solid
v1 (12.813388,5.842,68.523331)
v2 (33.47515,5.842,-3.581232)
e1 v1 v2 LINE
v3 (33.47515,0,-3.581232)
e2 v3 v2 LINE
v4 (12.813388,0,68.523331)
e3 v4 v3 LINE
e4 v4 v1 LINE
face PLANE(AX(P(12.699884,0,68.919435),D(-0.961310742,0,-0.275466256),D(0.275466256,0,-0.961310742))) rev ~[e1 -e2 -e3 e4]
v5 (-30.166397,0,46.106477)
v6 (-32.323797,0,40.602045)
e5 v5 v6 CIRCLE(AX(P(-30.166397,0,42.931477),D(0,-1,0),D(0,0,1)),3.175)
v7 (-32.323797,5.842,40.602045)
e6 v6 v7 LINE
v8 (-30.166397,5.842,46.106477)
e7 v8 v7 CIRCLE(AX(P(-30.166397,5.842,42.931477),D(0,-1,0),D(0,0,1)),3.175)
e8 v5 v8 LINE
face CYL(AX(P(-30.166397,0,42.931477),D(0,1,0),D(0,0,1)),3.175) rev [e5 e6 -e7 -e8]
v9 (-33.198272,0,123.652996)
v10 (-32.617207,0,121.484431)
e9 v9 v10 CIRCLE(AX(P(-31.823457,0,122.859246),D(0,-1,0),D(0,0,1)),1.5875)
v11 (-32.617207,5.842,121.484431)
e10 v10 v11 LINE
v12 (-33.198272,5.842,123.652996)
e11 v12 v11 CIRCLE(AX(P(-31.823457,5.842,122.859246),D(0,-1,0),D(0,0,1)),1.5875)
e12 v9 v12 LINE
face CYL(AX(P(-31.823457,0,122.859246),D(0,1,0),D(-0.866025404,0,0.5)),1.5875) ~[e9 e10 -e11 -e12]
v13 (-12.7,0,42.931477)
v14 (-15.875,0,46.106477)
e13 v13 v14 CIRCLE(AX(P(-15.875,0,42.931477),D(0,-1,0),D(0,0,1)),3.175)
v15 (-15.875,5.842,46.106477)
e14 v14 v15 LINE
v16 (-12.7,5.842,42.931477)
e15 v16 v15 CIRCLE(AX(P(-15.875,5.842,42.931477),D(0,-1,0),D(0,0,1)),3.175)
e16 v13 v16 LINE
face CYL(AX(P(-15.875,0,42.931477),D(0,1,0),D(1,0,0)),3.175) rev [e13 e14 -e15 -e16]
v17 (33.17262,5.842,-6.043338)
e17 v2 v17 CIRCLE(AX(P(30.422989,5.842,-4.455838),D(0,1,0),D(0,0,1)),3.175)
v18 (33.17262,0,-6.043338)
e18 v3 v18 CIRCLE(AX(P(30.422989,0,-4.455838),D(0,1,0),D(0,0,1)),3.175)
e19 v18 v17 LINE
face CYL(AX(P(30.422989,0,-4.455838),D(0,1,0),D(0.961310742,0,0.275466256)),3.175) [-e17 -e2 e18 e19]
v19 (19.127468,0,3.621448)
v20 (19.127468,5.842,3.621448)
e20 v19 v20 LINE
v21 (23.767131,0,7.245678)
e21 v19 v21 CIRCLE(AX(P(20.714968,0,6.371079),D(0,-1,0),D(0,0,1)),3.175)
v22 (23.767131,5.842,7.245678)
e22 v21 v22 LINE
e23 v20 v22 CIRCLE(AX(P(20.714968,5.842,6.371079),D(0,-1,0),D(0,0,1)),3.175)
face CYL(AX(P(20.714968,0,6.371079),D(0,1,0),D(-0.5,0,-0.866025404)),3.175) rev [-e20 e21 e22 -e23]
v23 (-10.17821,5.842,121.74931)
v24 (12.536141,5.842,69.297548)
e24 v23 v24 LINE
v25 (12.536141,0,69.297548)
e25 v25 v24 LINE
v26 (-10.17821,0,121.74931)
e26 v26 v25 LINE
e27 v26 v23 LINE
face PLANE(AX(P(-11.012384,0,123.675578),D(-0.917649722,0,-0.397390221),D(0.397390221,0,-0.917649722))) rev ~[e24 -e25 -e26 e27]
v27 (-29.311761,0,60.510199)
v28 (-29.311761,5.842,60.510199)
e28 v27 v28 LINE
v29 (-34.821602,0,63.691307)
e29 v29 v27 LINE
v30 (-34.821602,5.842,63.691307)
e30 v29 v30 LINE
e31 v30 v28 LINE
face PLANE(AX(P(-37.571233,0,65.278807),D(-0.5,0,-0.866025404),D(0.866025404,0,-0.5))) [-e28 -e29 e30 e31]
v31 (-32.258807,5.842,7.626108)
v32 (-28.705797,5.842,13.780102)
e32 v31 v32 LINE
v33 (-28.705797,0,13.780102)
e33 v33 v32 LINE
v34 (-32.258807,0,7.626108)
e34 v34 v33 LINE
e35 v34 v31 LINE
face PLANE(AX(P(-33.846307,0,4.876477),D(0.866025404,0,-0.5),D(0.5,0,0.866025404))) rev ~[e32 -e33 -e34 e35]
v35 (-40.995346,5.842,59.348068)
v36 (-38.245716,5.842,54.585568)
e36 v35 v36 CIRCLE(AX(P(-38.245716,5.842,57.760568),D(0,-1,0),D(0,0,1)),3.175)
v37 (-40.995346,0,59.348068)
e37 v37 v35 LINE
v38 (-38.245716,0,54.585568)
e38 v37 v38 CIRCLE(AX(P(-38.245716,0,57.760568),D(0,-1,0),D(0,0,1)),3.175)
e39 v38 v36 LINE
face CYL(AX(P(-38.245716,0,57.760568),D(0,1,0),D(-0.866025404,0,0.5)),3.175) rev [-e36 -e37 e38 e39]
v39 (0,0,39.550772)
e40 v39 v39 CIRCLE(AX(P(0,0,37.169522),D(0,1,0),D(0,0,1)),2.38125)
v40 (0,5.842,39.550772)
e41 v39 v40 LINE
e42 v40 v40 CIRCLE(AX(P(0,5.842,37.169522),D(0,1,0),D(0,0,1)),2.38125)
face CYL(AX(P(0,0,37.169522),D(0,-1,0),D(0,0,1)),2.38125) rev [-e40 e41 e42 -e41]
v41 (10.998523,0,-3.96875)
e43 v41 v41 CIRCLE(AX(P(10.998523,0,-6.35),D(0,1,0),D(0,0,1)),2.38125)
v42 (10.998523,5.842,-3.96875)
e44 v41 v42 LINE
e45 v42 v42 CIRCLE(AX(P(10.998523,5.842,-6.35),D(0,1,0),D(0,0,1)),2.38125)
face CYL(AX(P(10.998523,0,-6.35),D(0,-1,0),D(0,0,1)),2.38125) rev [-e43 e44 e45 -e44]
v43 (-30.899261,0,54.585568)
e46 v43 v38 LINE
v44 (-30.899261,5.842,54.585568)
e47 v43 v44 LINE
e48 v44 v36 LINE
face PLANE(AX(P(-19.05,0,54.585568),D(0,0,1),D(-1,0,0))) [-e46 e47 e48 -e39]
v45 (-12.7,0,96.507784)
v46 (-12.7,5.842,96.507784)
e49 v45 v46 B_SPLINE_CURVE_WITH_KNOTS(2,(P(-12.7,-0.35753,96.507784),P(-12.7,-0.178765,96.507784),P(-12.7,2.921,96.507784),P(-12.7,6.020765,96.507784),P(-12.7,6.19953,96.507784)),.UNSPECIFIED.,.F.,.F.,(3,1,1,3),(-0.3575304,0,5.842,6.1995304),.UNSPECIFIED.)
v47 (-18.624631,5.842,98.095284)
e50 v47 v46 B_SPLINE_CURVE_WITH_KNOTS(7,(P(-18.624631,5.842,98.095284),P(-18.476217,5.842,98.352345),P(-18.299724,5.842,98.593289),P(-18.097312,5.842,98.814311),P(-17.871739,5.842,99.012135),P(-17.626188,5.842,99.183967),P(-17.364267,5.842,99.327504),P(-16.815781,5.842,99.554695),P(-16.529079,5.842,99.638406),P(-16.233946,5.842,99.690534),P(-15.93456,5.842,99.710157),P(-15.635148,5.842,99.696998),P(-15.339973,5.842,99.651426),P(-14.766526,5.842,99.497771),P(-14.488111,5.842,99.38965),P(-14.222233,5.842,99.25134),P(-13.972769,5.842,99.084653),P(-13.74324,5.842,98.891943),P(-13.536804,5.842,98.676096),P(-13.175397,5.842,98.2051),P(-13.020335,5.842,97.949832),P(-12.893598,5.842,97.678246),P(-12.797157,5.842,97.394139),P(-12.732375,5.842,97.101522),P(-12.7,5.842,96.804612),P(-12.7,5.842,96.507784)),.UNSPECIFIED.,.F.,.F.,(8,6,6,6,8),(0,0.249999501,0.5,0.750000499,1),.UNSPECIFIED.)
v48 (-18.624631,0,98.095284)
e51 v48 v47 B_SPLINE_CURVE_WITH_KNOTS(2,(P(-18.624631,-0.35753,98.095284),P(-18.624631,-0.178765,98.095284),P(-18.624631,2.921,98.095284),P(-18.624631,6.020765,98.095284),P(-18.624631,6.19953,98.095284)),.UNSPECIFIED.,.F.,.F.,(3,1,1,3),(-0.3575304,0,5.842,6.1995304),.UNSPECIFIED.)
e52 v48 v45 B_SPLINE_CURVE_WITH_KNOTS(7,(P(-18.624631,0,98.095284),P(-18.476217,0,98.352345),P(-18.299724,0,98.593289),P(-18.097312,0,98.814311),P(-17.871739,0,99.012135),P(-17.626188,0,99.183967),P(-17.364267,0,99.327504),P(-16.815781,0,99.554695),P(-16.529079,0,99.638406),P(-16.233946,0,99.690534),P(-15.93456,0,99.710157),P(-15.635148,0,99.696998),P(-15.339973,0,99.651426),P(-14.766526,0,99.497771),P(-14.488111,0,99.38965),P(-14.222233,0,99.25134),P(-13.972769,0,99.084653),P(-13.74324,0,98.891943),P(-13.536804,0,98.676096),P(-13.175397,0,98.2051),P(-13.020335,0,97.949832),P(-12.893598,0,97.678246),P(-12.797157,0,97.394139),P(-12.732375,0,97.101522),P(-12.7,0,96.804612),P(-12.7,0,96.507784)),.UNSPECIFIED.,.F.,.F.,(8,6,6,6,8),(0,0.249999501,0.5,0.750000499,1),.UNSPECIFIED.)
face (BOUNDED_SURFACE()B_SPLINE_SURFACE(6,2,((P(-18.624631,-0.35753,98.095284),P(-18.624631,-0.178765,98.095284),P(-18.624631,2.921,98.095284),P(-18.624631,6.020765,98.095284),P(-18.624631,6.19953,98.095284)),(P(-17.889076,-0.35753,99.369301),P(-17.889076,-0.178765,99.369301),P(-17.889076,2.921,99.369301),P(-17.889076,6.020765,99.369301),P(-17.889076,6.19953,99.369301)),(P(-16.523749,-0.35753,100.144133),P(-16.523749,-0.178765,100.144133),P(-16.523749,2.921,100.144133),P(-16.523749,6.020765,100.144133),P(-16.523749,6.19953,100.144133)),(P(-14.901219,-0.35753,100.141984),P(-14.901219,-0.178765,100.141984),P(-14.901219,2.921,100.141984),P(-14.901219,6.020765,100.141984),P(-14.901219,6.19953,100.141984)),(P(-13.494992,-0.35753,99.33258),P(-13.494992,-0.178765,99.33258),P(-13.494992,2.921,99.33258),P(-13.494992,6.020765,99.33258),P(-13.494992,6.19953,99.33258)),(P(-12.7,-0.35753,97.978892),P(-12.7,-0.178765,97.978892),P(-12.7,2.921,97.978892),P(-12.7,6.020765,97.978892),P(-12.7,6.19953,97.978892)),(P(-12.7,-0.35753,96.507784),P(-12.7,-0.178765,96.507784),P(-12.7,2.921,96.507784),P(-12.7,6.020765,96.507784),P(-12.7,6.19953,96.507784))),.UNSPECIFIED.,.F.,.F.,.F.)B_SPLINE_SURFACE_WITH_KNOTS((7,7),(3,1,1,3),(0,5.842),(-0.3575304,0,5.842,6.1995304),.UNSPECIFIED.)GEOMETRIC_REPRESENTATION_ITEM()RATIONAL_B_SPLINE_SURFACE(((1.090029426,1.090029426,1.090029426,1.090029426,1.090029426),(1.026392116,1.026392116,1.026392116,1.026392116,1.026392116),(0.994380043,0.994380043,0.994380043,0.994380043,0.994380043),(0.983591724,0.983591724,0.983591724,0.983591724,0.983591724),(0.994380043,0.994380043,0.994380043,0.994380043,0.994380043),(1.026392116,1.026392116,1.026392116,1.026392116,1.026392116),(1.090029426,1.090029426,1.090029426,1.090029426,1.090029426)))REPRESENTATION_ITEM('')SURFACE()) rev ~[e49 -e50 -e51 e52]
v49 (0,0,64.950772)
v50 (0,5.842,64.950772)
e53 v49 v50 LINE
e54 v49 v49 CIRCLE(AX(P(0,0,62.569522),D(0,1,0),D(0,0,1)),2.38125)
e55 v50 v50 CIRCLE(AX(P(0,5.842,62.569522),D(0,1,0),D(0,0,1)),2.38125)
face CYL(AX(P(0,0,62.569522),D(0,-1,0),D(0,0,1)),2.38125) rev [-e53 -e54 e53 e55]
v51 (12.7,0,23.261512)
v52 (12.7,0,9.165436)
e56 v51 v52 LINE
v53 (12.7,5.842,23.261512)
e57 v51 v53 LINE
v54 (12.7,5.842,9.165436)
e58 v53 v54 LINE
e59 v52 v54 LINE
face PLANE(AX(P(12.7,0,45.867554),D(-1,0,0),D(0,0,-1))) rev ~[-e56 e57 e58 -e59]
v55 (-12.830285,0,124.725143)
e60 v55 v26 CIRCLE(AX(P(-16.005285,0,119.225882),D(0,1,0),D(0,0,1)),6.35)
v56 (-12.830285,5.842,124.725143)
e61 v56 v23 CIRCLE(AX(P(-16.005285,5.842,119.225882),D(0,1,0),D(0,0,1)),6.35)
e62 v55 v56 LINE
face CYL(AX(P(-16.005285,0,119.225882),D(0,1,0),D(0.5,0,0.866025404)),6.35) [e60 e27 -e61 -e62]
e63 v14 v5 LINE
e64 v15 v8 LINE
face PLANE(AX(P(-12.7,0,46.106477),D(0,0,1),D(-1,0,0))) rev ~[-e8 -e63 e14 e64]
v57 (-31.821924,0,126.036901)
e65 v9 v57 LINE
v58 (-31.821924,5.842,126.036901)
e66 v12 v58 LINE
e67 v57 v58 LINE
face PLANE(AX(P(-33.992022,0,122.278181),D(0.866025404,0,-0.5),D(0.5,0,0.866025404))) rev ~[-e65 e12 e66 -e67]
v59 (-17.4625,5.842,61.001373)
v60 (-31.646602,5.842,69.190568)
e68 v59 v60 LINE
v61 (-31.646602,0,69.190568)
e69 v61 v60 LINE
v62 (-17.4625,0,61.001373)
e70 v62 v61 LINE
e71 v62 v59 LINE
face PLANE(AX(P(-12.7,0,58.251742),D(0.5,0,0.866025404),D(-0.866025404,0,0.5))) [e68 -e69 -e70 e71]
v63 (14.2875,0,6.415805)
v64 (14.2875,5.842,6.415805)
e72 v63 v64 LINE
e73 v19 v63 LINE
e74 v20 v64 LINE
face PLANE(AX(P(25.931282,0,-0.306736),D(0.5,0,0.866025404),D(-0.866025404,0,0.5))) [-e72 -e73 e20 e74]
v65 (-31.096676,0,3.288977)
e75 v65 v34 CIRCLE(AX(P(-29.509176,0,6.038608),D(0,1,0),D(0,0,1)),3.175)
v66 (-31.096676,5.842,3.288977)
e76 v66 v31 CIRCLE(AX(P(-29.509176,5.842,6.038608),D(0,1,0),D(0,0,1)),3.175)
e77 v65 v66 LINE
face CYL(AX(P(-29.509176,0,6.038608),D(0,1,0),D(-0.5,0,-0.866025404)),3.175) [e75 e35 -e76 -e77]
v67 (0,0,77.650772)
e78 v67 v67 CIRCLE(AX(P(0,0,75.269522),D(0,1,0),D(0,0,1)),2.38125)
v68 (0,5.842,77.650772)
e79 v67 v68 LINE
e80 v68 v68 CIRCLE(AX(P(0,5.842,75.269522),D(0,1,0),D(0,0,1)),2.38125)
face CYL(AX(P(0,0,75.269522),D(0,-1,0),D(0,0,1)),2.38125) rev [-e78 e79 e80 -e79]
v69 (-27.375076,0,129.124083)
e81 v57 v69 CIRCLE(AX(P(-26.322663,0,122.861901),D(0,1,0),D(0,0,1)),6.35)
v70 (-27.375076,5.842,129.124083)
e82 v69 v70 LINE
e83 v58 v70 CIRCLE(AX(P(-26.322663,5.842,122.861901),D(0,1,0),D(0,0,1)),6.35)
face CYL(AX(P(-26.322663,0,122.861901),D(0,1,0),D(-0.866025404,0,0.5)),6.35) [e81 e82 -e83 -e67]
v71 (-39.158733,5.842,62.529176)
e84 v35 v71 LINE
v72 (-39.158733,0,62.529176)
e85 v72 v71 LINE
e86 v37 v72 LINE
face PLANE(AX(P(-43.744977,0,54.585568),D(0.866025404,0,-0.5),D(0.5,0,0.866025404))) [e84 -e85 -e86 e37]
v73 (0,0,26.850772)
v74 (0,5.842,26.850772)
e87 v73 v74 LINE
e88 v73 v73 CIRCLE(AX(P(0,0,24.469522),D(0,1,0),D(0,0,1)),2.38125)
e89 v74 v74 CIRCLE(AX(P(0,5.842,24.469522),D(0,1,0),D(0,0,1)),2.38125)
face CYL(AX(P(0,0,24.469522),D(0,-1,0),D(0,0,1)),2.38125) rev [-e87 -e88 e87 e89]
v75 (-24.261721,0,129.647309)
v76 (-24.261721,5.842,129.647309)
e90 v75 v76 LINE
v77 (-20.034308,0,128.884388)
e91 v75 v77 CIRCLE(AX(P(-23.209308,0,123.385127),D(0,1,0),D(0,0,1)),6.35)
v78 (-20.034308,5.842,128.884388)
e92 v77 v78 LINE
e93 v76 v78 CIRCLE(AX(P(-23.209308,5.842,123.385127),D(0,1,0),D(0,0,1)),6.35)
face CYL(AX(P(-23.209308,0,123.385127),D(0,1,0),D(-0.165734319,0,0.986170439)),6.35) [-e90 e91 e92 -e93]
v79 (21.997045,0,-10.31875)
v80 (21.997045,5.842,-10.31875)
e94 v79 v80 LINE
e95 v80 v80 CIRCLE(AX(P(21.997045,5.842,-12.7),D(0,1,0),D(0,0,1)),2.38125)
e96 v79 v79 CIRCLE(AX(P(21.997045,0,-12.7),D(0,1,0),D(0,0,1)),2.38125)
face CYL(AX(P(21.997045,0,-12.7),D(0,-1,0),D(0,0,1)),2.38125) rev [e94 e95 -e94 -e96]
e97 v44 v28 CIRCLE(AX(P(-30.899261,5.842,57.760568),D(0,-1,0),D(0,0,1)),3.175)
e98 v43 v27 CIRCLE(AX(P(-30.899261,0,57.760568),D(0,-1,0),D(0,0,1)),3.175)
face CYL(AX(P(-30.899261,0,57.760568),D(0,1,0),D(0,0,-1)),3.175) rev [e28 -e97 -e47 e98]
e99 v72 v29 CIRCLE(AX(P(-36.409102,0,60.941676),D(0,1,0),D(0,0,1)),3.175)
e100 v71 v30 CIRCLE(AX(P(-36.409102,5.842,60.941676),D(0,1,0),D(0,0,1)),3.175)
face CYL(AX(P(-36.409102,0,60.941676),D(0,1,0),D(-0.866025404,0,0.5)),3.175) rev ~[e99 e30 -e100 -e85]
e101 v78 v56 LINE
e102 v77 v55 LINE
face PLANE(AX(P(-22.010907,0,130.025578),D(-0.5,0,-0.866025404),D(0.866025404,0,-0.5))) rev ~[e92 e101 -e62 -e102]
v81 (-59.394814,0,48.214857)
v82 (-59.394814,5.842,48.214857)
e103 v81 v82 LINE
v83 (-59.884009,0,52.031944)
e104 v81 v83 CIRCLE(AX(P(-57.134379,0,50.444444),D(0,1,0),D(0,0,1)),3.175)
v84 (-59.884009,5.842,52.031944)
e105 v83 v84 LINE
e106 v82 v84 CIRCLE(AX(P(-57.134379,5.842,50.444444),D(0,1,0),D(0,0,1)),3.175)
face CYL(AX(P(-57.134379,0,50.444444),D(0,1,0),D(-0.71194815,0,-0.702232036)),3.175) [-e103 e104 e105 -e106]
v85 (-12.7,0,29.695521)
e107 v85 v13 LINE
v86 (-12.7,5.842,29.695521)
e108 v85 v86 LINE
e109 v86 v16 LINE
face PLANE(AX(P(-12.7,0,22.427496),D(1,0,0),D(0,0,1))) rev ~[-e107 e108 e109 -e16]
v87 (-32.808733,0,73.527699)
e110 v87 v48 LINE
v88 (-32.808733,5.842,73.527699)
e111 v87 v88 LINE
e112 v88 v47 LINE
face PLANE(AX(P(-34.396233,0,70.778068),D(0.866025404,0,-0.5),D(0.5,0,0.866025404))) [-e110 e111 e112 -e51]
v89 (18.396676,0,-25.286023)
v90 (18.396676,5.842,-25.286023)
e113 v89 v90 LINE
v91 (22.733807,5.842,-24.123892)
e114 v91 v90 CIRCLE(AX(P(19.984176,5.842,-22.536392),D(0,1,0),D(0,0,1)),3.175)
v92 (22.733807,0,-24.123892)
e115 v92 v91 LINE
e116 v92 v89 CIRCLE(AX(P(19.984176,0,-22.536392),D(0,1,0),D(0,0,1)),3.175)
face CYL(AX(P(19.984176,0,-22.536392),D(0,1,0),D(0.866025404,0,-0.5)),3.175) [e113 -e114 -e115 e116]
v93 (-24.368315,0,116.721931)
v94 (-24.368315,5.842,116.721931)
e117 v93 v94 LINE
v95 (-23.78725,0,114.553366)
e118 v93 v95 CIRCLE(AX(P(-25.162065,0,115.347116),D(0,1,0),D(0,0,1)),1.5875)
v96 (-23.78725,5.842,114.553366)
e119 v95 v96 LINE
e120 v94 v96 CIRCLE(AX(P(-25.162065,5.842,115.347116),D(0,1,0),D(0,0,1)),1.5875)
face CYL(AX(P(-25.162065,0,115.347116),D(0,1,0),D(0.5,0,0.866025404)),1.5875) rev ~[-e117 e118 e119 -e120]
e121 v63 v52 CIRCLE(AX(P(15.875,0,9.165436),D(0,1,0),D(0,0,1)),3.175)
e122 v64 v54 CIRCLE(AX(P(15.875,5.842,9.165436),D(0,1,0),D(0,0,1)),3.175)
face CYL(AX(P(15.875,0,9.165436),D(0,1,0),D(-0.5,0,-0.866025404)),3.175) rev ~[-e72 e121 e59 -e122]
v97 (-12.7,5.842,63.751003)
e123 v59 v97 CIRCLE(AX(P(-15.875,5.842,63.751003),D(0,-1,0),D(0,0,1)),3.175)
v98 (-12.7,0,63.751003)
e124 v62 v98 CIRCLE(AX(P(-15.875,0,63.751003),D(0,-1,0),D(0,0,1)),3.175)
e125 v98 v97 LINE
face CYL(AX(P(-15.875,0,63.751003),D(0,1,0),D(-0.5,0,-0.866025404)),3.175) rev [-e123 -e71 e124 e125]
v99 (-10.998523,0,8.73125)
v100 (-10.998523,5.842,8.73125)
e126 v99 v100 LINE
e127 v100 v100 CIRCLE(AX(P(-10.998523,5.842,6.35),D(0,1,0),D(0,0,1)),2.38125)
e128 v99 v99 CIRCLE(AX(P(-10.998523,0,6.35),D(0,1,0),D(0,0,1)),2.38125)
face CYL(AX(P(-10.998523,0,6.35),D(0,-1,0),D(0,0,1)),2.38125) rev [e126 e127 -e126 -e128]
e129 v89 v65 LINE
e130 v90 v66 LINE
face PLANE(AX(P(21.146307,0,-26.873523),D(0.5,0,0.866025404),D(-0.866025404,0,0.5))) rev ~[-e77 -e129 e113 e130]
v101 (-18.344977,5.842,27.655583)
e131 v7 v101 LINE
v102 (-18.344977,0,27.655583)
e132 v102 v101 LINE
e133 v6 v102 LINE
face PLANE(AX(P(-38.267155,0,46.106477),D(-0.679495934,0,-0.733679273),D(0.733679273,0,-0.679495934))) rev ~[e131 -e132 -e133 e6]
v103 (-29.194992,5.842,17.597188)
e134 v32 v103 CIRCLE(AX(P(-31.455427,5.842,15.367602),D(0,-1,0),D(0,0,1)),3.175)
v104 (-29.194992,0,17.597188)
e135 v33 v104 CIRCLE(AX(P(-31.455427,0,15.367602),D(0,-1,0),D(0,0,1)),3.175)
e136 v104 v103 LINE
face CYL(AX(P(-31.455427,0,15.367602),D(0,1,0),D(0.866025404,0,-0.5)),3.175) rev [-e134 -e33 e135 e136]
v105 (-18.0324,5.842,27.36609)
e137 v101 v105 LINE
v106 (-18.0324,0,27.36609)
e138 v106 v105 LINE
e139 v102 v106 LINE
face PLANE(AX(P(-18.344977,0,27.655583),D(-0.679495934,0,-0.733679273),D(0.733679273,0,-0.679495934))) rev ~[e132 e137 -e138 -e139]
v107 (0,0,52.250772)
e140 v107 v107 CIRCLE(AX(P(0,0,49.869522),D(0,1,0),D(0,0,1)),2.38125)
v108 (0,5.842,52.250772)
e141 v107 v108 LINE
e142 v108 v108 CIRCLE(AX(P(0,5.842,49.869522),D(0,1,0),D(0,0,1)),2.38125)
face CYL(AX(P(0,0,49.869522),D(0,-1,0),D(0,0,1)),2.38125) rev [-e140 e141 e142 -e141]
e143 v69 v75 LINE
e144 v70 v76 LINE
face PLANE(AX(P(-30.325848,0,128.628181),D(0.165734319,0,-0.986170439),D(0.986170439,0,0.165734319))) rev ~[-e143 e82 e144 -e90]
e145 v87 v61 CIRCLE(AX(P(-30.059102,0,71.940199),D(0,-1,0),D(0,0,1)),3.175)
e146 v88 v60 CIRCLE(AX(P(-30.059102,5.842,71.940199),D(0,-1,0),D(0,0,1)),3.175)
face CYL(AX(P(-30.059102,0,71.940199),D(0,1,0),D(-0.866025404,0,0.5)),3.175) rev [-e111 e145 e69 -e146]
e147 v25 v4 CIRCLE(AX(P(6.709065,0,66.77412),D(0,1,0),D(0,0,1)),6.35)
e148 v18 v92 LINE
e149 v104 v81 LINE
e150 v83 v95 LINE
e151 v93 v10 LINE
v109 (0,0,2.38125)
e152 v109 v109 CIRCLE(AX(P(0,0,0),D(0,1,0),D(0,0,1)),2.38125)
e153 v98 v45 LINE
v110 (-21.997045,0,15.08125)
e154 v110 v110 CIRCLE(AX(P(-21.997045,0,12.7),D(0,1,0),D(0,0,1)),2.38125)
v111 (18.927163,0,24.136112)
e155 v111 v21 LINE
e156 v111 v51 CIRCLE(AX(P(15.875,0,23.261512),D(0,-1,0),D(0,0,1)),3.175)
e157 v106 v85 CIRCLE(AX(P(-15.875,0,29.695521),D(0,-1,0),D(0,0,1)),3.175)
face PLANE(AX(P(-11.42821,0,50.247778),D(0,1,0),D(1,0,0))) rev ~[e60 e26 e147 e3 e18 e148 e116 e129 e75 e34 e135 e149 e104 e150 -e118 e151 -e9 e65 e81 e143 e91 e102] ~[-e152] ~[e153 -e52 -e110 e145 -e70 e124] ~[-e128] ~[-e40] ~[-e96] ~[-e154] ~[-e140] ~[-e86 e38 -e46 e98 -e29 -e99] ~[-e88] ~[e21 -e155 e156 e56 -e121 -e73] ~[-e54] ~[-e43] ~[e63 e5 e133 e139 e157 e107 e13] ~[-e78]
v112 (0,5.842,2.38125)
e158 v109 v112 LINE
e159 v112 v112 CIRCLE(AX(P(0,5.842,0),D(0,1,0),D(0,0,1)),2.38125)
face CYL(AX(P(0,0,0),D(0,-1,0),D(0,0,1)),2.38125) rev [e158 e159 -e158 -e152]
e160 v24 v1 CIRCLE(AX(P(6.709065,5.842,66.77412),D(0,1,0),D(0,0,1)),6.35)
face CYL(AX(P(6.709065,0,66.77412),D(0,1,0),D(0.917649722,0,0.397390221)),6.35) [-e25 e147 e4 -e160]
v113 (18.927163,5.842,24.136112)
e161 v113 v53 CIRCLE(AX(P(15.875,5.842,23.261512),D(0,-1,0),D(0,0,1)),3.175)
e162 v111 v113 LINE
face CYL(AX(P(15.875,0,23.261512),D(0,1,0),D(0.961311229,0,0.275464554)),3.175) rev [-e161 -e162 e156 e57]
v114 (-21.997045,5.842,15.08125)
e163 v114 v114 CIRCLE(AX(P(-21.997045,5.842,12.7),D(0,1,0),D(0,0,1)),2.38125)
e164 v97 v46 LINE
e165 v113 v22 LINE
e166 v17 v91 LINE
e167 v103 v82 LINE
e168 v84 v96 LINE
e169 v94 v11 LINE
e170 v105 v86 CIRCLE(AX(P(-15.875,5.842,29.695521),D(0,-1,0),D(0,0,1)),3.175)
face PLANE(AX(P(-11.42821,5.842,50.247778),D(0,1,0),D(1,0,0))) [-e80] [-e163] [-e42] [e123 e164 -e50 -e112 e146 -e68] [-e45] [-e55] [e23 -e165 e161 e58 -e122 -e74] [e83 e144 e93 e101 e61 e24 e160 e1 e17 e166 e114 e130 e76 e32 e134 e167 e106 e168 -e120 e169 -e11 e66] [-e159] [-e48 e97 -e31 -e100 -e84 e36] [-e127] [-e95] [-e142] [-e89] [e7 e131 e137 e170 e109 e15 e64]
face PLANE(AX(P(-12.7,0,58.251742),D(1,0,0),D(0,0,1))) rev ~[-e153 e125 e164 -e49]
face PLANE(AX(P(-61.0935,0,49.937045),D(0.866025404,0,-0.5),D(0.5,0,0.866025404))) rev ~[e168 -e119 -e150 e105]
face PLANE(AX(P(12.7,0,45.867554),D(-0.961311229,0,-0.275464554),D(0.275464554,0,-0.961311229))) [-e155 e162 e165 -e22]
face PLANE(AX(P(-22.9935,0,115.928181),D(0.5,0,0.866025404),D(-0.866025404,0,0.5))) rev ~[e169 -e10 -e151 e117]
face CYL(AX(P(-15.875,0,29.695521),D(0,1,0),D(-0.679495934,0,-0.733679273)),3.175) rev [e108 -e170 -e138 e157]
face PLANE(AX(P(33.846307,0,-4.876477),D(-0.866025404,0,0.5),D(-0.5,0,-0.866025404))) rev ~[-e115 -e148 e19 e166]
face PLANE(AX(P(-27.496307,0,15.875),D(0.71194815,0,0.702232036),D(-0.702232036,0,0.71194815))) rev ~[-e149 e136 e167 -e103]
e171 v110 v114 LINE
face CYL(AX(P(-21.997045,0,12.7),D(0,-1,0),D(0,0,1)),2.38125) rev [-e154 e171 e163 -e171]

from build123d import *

# Parameters (mm, degrees)
SKETCH1_R           = 2.38125
BOSS_EXTRUDE1_DEPTH = 5.842
FILLET1_R           = 3.175
FILLET2_R           = 3.175
FILLET3_R           = 1.5875
FILLET5_R           = 6.35


with BuildPart() as part:
    # Sketch1 → Boss-Extrude1 (new body)
    with BuildSketch(Plane(origin=(0, 0, 0), x_dir=(1, 0, 0), z_dir=(0, 1, 0))):
        Polygon((-11.01238397, -123.675577549), (12.699883629, -68.919434524), (33.84630657, 4.876477372), (21.14630657, 26.873522628), (-33.84630657, -4.876477372), (-27.49630657, -15.875), (-61.093499563, -49.937045256), (-22.993499563, -115.928181024), (-33.992022192, -122.278181024), (-30.325847982, -128.628181024), (-22.010906598, -130.025577549), align=None)
        with Locations(Location((21.997045256, 12.7, 0), (0, 0, 270))):
            Circle(SKETCH1_R, mode=Mode.SUBTRACT)
        with Locations(Location((10.998522628, 6.35, 0), (0, 0, 270))):
            Circle(SKETCH1_R, mode=Mode.SUBTRACT)
        with Locations(Location((0, 0, 0), (0, 0, 270))):
            Circle(SKETCH1_R, mode=Mode.SUBTRACT)
        with Locations(Location((-10.998522628, -6.35, 0), (0, 0, 270))):
            Circle(SKETCH1_R, mode=Mode.SUBTRACT)
        with Locations(Location((-21.997045256, -12.7, 0), (0, 0, 270))):
            Circle(SKETCH1_R, mode=Mode.SUBTRACT)
        with Locations(Location((0, -24.4695218, 0), (0, 0, 270))):
            Circle(SKETCH1_R, mode=Mode.SUBTRACT)
        with Locations(Location((0, -37.1695218, 0), (0, 0, 270))):
            Circle(SKETCH1_R, mode=Mode.SUBTRACT)
        with Locations(Location((0, -49.8695218, 0), (0, 0, 270))):
            Circle(SKETCH1_R, mode=Mode.SUBTRACT)
        with Locations(Location((0, -62.5695218, 0), (0, 0, 270))):
            Circle(SKETCH1_R, mode=Mode.SUBTRACT)
        with Locations(Location((0, -75.2695218, 0), (0, 0, 270))):
            Circle(SKETCH1_R, mode=Mode.SUBTRACT)
        Polygon((25.931282224, 0.306735935), (12.7, -7.332348419), (12.7, -16.277642723), (12.7, -45.867554067), align=None, mode=Mode.SUBTRACT)
        Polygon((-43.744976935, -54.585567884), (-37.571232702, -65.27880657), (-19.05, -54.585567884), align=None, mode=Mode.SUBTRACT)
        Polygon((-12.7, -22.427495922), (-12.7, -46.106477151), (-18.344976935, -46.106477151), (-38.267154833, -46.106477151), (-18.344976935, -27.655582651), align=None, mode=Mode.SUBTRACT)
        Polygon((-18.344976935, -98.579658396), (-12.7, -108.357045256), (-12.7, -101.6), (-12.7, -58.251742094), (-34.396232702, -70.778067884), align=None, mode=Mode.SUBTRACT)
    extrude(amount=BOSS_EXTRUDE1_DEPTH)

    # Fillet1
    fillet1_edges = [part.edges().sort_by_distance(p)[0] for p in [
        (-19.05, 2.921, 54.585567884),
        (-43.744976935, 2.921, 54.585567884),
        (-37.571232702, 2.921, 65.27880657),
        (12.7, 2.921, 7.332348419),
        (12.7, 2.921, 45.867554067),
        (25.931282224, 2.921, -0.306735935),
        (-34.396232702, 2.921, 70.778067884),
        (-12.7, 2.921, 108.357045256),
        (-12.7, 2.921, 58.251742094),
        (-12.7, 2.921, 46.106477151),
        (-12.7, 2.921, 22.427495922),
        (-38.267154833, 2.921, 46.106477151),
    ]]
    fillet(fillet1_edges, radius=FILLET1_R)

    # Fillet2
    fillet2_edges = [part.edges().sort_by_distance(p)[0] for p in [
        (-33.84630657, 2.921, 4.876477372),
        (21.14630657, 2.921, -26.873522628),
        (33.84630657, 2.921, -4.876477372),
        (-61.093499563, 2.921, 49.937045256),
        (-27.49630657, 2.921, 15.875),
    ]]
    fillet(fillet2_edges, radius=FILLET2_R)

    # Fillet3
    fillet3_edges = [part.edges().sort_by_distance(p)[0] for p in [
        (-33.992022192, 2.921, 122.278181024),
        (-22.993499563, 2.921, 115.928181024),
    ]]
    fillet(fillet3_edges, radius=FILLET3_R)

    # Fillet5
    fillet5_edges = [part.edges().sort_by_distance(p)[0] for p in [
        (12.699883629, 2.921, 68.919434524),
        (-11.01238397, 2.921, 123.675577549),
        (-22.010906598, 2.921, 130.025577549),
        (-30.325847982, 2.921, 128.628181024),
    ]]
    fillet(fillet5_edges, radius=FILLET5_R)


solid = part.part
